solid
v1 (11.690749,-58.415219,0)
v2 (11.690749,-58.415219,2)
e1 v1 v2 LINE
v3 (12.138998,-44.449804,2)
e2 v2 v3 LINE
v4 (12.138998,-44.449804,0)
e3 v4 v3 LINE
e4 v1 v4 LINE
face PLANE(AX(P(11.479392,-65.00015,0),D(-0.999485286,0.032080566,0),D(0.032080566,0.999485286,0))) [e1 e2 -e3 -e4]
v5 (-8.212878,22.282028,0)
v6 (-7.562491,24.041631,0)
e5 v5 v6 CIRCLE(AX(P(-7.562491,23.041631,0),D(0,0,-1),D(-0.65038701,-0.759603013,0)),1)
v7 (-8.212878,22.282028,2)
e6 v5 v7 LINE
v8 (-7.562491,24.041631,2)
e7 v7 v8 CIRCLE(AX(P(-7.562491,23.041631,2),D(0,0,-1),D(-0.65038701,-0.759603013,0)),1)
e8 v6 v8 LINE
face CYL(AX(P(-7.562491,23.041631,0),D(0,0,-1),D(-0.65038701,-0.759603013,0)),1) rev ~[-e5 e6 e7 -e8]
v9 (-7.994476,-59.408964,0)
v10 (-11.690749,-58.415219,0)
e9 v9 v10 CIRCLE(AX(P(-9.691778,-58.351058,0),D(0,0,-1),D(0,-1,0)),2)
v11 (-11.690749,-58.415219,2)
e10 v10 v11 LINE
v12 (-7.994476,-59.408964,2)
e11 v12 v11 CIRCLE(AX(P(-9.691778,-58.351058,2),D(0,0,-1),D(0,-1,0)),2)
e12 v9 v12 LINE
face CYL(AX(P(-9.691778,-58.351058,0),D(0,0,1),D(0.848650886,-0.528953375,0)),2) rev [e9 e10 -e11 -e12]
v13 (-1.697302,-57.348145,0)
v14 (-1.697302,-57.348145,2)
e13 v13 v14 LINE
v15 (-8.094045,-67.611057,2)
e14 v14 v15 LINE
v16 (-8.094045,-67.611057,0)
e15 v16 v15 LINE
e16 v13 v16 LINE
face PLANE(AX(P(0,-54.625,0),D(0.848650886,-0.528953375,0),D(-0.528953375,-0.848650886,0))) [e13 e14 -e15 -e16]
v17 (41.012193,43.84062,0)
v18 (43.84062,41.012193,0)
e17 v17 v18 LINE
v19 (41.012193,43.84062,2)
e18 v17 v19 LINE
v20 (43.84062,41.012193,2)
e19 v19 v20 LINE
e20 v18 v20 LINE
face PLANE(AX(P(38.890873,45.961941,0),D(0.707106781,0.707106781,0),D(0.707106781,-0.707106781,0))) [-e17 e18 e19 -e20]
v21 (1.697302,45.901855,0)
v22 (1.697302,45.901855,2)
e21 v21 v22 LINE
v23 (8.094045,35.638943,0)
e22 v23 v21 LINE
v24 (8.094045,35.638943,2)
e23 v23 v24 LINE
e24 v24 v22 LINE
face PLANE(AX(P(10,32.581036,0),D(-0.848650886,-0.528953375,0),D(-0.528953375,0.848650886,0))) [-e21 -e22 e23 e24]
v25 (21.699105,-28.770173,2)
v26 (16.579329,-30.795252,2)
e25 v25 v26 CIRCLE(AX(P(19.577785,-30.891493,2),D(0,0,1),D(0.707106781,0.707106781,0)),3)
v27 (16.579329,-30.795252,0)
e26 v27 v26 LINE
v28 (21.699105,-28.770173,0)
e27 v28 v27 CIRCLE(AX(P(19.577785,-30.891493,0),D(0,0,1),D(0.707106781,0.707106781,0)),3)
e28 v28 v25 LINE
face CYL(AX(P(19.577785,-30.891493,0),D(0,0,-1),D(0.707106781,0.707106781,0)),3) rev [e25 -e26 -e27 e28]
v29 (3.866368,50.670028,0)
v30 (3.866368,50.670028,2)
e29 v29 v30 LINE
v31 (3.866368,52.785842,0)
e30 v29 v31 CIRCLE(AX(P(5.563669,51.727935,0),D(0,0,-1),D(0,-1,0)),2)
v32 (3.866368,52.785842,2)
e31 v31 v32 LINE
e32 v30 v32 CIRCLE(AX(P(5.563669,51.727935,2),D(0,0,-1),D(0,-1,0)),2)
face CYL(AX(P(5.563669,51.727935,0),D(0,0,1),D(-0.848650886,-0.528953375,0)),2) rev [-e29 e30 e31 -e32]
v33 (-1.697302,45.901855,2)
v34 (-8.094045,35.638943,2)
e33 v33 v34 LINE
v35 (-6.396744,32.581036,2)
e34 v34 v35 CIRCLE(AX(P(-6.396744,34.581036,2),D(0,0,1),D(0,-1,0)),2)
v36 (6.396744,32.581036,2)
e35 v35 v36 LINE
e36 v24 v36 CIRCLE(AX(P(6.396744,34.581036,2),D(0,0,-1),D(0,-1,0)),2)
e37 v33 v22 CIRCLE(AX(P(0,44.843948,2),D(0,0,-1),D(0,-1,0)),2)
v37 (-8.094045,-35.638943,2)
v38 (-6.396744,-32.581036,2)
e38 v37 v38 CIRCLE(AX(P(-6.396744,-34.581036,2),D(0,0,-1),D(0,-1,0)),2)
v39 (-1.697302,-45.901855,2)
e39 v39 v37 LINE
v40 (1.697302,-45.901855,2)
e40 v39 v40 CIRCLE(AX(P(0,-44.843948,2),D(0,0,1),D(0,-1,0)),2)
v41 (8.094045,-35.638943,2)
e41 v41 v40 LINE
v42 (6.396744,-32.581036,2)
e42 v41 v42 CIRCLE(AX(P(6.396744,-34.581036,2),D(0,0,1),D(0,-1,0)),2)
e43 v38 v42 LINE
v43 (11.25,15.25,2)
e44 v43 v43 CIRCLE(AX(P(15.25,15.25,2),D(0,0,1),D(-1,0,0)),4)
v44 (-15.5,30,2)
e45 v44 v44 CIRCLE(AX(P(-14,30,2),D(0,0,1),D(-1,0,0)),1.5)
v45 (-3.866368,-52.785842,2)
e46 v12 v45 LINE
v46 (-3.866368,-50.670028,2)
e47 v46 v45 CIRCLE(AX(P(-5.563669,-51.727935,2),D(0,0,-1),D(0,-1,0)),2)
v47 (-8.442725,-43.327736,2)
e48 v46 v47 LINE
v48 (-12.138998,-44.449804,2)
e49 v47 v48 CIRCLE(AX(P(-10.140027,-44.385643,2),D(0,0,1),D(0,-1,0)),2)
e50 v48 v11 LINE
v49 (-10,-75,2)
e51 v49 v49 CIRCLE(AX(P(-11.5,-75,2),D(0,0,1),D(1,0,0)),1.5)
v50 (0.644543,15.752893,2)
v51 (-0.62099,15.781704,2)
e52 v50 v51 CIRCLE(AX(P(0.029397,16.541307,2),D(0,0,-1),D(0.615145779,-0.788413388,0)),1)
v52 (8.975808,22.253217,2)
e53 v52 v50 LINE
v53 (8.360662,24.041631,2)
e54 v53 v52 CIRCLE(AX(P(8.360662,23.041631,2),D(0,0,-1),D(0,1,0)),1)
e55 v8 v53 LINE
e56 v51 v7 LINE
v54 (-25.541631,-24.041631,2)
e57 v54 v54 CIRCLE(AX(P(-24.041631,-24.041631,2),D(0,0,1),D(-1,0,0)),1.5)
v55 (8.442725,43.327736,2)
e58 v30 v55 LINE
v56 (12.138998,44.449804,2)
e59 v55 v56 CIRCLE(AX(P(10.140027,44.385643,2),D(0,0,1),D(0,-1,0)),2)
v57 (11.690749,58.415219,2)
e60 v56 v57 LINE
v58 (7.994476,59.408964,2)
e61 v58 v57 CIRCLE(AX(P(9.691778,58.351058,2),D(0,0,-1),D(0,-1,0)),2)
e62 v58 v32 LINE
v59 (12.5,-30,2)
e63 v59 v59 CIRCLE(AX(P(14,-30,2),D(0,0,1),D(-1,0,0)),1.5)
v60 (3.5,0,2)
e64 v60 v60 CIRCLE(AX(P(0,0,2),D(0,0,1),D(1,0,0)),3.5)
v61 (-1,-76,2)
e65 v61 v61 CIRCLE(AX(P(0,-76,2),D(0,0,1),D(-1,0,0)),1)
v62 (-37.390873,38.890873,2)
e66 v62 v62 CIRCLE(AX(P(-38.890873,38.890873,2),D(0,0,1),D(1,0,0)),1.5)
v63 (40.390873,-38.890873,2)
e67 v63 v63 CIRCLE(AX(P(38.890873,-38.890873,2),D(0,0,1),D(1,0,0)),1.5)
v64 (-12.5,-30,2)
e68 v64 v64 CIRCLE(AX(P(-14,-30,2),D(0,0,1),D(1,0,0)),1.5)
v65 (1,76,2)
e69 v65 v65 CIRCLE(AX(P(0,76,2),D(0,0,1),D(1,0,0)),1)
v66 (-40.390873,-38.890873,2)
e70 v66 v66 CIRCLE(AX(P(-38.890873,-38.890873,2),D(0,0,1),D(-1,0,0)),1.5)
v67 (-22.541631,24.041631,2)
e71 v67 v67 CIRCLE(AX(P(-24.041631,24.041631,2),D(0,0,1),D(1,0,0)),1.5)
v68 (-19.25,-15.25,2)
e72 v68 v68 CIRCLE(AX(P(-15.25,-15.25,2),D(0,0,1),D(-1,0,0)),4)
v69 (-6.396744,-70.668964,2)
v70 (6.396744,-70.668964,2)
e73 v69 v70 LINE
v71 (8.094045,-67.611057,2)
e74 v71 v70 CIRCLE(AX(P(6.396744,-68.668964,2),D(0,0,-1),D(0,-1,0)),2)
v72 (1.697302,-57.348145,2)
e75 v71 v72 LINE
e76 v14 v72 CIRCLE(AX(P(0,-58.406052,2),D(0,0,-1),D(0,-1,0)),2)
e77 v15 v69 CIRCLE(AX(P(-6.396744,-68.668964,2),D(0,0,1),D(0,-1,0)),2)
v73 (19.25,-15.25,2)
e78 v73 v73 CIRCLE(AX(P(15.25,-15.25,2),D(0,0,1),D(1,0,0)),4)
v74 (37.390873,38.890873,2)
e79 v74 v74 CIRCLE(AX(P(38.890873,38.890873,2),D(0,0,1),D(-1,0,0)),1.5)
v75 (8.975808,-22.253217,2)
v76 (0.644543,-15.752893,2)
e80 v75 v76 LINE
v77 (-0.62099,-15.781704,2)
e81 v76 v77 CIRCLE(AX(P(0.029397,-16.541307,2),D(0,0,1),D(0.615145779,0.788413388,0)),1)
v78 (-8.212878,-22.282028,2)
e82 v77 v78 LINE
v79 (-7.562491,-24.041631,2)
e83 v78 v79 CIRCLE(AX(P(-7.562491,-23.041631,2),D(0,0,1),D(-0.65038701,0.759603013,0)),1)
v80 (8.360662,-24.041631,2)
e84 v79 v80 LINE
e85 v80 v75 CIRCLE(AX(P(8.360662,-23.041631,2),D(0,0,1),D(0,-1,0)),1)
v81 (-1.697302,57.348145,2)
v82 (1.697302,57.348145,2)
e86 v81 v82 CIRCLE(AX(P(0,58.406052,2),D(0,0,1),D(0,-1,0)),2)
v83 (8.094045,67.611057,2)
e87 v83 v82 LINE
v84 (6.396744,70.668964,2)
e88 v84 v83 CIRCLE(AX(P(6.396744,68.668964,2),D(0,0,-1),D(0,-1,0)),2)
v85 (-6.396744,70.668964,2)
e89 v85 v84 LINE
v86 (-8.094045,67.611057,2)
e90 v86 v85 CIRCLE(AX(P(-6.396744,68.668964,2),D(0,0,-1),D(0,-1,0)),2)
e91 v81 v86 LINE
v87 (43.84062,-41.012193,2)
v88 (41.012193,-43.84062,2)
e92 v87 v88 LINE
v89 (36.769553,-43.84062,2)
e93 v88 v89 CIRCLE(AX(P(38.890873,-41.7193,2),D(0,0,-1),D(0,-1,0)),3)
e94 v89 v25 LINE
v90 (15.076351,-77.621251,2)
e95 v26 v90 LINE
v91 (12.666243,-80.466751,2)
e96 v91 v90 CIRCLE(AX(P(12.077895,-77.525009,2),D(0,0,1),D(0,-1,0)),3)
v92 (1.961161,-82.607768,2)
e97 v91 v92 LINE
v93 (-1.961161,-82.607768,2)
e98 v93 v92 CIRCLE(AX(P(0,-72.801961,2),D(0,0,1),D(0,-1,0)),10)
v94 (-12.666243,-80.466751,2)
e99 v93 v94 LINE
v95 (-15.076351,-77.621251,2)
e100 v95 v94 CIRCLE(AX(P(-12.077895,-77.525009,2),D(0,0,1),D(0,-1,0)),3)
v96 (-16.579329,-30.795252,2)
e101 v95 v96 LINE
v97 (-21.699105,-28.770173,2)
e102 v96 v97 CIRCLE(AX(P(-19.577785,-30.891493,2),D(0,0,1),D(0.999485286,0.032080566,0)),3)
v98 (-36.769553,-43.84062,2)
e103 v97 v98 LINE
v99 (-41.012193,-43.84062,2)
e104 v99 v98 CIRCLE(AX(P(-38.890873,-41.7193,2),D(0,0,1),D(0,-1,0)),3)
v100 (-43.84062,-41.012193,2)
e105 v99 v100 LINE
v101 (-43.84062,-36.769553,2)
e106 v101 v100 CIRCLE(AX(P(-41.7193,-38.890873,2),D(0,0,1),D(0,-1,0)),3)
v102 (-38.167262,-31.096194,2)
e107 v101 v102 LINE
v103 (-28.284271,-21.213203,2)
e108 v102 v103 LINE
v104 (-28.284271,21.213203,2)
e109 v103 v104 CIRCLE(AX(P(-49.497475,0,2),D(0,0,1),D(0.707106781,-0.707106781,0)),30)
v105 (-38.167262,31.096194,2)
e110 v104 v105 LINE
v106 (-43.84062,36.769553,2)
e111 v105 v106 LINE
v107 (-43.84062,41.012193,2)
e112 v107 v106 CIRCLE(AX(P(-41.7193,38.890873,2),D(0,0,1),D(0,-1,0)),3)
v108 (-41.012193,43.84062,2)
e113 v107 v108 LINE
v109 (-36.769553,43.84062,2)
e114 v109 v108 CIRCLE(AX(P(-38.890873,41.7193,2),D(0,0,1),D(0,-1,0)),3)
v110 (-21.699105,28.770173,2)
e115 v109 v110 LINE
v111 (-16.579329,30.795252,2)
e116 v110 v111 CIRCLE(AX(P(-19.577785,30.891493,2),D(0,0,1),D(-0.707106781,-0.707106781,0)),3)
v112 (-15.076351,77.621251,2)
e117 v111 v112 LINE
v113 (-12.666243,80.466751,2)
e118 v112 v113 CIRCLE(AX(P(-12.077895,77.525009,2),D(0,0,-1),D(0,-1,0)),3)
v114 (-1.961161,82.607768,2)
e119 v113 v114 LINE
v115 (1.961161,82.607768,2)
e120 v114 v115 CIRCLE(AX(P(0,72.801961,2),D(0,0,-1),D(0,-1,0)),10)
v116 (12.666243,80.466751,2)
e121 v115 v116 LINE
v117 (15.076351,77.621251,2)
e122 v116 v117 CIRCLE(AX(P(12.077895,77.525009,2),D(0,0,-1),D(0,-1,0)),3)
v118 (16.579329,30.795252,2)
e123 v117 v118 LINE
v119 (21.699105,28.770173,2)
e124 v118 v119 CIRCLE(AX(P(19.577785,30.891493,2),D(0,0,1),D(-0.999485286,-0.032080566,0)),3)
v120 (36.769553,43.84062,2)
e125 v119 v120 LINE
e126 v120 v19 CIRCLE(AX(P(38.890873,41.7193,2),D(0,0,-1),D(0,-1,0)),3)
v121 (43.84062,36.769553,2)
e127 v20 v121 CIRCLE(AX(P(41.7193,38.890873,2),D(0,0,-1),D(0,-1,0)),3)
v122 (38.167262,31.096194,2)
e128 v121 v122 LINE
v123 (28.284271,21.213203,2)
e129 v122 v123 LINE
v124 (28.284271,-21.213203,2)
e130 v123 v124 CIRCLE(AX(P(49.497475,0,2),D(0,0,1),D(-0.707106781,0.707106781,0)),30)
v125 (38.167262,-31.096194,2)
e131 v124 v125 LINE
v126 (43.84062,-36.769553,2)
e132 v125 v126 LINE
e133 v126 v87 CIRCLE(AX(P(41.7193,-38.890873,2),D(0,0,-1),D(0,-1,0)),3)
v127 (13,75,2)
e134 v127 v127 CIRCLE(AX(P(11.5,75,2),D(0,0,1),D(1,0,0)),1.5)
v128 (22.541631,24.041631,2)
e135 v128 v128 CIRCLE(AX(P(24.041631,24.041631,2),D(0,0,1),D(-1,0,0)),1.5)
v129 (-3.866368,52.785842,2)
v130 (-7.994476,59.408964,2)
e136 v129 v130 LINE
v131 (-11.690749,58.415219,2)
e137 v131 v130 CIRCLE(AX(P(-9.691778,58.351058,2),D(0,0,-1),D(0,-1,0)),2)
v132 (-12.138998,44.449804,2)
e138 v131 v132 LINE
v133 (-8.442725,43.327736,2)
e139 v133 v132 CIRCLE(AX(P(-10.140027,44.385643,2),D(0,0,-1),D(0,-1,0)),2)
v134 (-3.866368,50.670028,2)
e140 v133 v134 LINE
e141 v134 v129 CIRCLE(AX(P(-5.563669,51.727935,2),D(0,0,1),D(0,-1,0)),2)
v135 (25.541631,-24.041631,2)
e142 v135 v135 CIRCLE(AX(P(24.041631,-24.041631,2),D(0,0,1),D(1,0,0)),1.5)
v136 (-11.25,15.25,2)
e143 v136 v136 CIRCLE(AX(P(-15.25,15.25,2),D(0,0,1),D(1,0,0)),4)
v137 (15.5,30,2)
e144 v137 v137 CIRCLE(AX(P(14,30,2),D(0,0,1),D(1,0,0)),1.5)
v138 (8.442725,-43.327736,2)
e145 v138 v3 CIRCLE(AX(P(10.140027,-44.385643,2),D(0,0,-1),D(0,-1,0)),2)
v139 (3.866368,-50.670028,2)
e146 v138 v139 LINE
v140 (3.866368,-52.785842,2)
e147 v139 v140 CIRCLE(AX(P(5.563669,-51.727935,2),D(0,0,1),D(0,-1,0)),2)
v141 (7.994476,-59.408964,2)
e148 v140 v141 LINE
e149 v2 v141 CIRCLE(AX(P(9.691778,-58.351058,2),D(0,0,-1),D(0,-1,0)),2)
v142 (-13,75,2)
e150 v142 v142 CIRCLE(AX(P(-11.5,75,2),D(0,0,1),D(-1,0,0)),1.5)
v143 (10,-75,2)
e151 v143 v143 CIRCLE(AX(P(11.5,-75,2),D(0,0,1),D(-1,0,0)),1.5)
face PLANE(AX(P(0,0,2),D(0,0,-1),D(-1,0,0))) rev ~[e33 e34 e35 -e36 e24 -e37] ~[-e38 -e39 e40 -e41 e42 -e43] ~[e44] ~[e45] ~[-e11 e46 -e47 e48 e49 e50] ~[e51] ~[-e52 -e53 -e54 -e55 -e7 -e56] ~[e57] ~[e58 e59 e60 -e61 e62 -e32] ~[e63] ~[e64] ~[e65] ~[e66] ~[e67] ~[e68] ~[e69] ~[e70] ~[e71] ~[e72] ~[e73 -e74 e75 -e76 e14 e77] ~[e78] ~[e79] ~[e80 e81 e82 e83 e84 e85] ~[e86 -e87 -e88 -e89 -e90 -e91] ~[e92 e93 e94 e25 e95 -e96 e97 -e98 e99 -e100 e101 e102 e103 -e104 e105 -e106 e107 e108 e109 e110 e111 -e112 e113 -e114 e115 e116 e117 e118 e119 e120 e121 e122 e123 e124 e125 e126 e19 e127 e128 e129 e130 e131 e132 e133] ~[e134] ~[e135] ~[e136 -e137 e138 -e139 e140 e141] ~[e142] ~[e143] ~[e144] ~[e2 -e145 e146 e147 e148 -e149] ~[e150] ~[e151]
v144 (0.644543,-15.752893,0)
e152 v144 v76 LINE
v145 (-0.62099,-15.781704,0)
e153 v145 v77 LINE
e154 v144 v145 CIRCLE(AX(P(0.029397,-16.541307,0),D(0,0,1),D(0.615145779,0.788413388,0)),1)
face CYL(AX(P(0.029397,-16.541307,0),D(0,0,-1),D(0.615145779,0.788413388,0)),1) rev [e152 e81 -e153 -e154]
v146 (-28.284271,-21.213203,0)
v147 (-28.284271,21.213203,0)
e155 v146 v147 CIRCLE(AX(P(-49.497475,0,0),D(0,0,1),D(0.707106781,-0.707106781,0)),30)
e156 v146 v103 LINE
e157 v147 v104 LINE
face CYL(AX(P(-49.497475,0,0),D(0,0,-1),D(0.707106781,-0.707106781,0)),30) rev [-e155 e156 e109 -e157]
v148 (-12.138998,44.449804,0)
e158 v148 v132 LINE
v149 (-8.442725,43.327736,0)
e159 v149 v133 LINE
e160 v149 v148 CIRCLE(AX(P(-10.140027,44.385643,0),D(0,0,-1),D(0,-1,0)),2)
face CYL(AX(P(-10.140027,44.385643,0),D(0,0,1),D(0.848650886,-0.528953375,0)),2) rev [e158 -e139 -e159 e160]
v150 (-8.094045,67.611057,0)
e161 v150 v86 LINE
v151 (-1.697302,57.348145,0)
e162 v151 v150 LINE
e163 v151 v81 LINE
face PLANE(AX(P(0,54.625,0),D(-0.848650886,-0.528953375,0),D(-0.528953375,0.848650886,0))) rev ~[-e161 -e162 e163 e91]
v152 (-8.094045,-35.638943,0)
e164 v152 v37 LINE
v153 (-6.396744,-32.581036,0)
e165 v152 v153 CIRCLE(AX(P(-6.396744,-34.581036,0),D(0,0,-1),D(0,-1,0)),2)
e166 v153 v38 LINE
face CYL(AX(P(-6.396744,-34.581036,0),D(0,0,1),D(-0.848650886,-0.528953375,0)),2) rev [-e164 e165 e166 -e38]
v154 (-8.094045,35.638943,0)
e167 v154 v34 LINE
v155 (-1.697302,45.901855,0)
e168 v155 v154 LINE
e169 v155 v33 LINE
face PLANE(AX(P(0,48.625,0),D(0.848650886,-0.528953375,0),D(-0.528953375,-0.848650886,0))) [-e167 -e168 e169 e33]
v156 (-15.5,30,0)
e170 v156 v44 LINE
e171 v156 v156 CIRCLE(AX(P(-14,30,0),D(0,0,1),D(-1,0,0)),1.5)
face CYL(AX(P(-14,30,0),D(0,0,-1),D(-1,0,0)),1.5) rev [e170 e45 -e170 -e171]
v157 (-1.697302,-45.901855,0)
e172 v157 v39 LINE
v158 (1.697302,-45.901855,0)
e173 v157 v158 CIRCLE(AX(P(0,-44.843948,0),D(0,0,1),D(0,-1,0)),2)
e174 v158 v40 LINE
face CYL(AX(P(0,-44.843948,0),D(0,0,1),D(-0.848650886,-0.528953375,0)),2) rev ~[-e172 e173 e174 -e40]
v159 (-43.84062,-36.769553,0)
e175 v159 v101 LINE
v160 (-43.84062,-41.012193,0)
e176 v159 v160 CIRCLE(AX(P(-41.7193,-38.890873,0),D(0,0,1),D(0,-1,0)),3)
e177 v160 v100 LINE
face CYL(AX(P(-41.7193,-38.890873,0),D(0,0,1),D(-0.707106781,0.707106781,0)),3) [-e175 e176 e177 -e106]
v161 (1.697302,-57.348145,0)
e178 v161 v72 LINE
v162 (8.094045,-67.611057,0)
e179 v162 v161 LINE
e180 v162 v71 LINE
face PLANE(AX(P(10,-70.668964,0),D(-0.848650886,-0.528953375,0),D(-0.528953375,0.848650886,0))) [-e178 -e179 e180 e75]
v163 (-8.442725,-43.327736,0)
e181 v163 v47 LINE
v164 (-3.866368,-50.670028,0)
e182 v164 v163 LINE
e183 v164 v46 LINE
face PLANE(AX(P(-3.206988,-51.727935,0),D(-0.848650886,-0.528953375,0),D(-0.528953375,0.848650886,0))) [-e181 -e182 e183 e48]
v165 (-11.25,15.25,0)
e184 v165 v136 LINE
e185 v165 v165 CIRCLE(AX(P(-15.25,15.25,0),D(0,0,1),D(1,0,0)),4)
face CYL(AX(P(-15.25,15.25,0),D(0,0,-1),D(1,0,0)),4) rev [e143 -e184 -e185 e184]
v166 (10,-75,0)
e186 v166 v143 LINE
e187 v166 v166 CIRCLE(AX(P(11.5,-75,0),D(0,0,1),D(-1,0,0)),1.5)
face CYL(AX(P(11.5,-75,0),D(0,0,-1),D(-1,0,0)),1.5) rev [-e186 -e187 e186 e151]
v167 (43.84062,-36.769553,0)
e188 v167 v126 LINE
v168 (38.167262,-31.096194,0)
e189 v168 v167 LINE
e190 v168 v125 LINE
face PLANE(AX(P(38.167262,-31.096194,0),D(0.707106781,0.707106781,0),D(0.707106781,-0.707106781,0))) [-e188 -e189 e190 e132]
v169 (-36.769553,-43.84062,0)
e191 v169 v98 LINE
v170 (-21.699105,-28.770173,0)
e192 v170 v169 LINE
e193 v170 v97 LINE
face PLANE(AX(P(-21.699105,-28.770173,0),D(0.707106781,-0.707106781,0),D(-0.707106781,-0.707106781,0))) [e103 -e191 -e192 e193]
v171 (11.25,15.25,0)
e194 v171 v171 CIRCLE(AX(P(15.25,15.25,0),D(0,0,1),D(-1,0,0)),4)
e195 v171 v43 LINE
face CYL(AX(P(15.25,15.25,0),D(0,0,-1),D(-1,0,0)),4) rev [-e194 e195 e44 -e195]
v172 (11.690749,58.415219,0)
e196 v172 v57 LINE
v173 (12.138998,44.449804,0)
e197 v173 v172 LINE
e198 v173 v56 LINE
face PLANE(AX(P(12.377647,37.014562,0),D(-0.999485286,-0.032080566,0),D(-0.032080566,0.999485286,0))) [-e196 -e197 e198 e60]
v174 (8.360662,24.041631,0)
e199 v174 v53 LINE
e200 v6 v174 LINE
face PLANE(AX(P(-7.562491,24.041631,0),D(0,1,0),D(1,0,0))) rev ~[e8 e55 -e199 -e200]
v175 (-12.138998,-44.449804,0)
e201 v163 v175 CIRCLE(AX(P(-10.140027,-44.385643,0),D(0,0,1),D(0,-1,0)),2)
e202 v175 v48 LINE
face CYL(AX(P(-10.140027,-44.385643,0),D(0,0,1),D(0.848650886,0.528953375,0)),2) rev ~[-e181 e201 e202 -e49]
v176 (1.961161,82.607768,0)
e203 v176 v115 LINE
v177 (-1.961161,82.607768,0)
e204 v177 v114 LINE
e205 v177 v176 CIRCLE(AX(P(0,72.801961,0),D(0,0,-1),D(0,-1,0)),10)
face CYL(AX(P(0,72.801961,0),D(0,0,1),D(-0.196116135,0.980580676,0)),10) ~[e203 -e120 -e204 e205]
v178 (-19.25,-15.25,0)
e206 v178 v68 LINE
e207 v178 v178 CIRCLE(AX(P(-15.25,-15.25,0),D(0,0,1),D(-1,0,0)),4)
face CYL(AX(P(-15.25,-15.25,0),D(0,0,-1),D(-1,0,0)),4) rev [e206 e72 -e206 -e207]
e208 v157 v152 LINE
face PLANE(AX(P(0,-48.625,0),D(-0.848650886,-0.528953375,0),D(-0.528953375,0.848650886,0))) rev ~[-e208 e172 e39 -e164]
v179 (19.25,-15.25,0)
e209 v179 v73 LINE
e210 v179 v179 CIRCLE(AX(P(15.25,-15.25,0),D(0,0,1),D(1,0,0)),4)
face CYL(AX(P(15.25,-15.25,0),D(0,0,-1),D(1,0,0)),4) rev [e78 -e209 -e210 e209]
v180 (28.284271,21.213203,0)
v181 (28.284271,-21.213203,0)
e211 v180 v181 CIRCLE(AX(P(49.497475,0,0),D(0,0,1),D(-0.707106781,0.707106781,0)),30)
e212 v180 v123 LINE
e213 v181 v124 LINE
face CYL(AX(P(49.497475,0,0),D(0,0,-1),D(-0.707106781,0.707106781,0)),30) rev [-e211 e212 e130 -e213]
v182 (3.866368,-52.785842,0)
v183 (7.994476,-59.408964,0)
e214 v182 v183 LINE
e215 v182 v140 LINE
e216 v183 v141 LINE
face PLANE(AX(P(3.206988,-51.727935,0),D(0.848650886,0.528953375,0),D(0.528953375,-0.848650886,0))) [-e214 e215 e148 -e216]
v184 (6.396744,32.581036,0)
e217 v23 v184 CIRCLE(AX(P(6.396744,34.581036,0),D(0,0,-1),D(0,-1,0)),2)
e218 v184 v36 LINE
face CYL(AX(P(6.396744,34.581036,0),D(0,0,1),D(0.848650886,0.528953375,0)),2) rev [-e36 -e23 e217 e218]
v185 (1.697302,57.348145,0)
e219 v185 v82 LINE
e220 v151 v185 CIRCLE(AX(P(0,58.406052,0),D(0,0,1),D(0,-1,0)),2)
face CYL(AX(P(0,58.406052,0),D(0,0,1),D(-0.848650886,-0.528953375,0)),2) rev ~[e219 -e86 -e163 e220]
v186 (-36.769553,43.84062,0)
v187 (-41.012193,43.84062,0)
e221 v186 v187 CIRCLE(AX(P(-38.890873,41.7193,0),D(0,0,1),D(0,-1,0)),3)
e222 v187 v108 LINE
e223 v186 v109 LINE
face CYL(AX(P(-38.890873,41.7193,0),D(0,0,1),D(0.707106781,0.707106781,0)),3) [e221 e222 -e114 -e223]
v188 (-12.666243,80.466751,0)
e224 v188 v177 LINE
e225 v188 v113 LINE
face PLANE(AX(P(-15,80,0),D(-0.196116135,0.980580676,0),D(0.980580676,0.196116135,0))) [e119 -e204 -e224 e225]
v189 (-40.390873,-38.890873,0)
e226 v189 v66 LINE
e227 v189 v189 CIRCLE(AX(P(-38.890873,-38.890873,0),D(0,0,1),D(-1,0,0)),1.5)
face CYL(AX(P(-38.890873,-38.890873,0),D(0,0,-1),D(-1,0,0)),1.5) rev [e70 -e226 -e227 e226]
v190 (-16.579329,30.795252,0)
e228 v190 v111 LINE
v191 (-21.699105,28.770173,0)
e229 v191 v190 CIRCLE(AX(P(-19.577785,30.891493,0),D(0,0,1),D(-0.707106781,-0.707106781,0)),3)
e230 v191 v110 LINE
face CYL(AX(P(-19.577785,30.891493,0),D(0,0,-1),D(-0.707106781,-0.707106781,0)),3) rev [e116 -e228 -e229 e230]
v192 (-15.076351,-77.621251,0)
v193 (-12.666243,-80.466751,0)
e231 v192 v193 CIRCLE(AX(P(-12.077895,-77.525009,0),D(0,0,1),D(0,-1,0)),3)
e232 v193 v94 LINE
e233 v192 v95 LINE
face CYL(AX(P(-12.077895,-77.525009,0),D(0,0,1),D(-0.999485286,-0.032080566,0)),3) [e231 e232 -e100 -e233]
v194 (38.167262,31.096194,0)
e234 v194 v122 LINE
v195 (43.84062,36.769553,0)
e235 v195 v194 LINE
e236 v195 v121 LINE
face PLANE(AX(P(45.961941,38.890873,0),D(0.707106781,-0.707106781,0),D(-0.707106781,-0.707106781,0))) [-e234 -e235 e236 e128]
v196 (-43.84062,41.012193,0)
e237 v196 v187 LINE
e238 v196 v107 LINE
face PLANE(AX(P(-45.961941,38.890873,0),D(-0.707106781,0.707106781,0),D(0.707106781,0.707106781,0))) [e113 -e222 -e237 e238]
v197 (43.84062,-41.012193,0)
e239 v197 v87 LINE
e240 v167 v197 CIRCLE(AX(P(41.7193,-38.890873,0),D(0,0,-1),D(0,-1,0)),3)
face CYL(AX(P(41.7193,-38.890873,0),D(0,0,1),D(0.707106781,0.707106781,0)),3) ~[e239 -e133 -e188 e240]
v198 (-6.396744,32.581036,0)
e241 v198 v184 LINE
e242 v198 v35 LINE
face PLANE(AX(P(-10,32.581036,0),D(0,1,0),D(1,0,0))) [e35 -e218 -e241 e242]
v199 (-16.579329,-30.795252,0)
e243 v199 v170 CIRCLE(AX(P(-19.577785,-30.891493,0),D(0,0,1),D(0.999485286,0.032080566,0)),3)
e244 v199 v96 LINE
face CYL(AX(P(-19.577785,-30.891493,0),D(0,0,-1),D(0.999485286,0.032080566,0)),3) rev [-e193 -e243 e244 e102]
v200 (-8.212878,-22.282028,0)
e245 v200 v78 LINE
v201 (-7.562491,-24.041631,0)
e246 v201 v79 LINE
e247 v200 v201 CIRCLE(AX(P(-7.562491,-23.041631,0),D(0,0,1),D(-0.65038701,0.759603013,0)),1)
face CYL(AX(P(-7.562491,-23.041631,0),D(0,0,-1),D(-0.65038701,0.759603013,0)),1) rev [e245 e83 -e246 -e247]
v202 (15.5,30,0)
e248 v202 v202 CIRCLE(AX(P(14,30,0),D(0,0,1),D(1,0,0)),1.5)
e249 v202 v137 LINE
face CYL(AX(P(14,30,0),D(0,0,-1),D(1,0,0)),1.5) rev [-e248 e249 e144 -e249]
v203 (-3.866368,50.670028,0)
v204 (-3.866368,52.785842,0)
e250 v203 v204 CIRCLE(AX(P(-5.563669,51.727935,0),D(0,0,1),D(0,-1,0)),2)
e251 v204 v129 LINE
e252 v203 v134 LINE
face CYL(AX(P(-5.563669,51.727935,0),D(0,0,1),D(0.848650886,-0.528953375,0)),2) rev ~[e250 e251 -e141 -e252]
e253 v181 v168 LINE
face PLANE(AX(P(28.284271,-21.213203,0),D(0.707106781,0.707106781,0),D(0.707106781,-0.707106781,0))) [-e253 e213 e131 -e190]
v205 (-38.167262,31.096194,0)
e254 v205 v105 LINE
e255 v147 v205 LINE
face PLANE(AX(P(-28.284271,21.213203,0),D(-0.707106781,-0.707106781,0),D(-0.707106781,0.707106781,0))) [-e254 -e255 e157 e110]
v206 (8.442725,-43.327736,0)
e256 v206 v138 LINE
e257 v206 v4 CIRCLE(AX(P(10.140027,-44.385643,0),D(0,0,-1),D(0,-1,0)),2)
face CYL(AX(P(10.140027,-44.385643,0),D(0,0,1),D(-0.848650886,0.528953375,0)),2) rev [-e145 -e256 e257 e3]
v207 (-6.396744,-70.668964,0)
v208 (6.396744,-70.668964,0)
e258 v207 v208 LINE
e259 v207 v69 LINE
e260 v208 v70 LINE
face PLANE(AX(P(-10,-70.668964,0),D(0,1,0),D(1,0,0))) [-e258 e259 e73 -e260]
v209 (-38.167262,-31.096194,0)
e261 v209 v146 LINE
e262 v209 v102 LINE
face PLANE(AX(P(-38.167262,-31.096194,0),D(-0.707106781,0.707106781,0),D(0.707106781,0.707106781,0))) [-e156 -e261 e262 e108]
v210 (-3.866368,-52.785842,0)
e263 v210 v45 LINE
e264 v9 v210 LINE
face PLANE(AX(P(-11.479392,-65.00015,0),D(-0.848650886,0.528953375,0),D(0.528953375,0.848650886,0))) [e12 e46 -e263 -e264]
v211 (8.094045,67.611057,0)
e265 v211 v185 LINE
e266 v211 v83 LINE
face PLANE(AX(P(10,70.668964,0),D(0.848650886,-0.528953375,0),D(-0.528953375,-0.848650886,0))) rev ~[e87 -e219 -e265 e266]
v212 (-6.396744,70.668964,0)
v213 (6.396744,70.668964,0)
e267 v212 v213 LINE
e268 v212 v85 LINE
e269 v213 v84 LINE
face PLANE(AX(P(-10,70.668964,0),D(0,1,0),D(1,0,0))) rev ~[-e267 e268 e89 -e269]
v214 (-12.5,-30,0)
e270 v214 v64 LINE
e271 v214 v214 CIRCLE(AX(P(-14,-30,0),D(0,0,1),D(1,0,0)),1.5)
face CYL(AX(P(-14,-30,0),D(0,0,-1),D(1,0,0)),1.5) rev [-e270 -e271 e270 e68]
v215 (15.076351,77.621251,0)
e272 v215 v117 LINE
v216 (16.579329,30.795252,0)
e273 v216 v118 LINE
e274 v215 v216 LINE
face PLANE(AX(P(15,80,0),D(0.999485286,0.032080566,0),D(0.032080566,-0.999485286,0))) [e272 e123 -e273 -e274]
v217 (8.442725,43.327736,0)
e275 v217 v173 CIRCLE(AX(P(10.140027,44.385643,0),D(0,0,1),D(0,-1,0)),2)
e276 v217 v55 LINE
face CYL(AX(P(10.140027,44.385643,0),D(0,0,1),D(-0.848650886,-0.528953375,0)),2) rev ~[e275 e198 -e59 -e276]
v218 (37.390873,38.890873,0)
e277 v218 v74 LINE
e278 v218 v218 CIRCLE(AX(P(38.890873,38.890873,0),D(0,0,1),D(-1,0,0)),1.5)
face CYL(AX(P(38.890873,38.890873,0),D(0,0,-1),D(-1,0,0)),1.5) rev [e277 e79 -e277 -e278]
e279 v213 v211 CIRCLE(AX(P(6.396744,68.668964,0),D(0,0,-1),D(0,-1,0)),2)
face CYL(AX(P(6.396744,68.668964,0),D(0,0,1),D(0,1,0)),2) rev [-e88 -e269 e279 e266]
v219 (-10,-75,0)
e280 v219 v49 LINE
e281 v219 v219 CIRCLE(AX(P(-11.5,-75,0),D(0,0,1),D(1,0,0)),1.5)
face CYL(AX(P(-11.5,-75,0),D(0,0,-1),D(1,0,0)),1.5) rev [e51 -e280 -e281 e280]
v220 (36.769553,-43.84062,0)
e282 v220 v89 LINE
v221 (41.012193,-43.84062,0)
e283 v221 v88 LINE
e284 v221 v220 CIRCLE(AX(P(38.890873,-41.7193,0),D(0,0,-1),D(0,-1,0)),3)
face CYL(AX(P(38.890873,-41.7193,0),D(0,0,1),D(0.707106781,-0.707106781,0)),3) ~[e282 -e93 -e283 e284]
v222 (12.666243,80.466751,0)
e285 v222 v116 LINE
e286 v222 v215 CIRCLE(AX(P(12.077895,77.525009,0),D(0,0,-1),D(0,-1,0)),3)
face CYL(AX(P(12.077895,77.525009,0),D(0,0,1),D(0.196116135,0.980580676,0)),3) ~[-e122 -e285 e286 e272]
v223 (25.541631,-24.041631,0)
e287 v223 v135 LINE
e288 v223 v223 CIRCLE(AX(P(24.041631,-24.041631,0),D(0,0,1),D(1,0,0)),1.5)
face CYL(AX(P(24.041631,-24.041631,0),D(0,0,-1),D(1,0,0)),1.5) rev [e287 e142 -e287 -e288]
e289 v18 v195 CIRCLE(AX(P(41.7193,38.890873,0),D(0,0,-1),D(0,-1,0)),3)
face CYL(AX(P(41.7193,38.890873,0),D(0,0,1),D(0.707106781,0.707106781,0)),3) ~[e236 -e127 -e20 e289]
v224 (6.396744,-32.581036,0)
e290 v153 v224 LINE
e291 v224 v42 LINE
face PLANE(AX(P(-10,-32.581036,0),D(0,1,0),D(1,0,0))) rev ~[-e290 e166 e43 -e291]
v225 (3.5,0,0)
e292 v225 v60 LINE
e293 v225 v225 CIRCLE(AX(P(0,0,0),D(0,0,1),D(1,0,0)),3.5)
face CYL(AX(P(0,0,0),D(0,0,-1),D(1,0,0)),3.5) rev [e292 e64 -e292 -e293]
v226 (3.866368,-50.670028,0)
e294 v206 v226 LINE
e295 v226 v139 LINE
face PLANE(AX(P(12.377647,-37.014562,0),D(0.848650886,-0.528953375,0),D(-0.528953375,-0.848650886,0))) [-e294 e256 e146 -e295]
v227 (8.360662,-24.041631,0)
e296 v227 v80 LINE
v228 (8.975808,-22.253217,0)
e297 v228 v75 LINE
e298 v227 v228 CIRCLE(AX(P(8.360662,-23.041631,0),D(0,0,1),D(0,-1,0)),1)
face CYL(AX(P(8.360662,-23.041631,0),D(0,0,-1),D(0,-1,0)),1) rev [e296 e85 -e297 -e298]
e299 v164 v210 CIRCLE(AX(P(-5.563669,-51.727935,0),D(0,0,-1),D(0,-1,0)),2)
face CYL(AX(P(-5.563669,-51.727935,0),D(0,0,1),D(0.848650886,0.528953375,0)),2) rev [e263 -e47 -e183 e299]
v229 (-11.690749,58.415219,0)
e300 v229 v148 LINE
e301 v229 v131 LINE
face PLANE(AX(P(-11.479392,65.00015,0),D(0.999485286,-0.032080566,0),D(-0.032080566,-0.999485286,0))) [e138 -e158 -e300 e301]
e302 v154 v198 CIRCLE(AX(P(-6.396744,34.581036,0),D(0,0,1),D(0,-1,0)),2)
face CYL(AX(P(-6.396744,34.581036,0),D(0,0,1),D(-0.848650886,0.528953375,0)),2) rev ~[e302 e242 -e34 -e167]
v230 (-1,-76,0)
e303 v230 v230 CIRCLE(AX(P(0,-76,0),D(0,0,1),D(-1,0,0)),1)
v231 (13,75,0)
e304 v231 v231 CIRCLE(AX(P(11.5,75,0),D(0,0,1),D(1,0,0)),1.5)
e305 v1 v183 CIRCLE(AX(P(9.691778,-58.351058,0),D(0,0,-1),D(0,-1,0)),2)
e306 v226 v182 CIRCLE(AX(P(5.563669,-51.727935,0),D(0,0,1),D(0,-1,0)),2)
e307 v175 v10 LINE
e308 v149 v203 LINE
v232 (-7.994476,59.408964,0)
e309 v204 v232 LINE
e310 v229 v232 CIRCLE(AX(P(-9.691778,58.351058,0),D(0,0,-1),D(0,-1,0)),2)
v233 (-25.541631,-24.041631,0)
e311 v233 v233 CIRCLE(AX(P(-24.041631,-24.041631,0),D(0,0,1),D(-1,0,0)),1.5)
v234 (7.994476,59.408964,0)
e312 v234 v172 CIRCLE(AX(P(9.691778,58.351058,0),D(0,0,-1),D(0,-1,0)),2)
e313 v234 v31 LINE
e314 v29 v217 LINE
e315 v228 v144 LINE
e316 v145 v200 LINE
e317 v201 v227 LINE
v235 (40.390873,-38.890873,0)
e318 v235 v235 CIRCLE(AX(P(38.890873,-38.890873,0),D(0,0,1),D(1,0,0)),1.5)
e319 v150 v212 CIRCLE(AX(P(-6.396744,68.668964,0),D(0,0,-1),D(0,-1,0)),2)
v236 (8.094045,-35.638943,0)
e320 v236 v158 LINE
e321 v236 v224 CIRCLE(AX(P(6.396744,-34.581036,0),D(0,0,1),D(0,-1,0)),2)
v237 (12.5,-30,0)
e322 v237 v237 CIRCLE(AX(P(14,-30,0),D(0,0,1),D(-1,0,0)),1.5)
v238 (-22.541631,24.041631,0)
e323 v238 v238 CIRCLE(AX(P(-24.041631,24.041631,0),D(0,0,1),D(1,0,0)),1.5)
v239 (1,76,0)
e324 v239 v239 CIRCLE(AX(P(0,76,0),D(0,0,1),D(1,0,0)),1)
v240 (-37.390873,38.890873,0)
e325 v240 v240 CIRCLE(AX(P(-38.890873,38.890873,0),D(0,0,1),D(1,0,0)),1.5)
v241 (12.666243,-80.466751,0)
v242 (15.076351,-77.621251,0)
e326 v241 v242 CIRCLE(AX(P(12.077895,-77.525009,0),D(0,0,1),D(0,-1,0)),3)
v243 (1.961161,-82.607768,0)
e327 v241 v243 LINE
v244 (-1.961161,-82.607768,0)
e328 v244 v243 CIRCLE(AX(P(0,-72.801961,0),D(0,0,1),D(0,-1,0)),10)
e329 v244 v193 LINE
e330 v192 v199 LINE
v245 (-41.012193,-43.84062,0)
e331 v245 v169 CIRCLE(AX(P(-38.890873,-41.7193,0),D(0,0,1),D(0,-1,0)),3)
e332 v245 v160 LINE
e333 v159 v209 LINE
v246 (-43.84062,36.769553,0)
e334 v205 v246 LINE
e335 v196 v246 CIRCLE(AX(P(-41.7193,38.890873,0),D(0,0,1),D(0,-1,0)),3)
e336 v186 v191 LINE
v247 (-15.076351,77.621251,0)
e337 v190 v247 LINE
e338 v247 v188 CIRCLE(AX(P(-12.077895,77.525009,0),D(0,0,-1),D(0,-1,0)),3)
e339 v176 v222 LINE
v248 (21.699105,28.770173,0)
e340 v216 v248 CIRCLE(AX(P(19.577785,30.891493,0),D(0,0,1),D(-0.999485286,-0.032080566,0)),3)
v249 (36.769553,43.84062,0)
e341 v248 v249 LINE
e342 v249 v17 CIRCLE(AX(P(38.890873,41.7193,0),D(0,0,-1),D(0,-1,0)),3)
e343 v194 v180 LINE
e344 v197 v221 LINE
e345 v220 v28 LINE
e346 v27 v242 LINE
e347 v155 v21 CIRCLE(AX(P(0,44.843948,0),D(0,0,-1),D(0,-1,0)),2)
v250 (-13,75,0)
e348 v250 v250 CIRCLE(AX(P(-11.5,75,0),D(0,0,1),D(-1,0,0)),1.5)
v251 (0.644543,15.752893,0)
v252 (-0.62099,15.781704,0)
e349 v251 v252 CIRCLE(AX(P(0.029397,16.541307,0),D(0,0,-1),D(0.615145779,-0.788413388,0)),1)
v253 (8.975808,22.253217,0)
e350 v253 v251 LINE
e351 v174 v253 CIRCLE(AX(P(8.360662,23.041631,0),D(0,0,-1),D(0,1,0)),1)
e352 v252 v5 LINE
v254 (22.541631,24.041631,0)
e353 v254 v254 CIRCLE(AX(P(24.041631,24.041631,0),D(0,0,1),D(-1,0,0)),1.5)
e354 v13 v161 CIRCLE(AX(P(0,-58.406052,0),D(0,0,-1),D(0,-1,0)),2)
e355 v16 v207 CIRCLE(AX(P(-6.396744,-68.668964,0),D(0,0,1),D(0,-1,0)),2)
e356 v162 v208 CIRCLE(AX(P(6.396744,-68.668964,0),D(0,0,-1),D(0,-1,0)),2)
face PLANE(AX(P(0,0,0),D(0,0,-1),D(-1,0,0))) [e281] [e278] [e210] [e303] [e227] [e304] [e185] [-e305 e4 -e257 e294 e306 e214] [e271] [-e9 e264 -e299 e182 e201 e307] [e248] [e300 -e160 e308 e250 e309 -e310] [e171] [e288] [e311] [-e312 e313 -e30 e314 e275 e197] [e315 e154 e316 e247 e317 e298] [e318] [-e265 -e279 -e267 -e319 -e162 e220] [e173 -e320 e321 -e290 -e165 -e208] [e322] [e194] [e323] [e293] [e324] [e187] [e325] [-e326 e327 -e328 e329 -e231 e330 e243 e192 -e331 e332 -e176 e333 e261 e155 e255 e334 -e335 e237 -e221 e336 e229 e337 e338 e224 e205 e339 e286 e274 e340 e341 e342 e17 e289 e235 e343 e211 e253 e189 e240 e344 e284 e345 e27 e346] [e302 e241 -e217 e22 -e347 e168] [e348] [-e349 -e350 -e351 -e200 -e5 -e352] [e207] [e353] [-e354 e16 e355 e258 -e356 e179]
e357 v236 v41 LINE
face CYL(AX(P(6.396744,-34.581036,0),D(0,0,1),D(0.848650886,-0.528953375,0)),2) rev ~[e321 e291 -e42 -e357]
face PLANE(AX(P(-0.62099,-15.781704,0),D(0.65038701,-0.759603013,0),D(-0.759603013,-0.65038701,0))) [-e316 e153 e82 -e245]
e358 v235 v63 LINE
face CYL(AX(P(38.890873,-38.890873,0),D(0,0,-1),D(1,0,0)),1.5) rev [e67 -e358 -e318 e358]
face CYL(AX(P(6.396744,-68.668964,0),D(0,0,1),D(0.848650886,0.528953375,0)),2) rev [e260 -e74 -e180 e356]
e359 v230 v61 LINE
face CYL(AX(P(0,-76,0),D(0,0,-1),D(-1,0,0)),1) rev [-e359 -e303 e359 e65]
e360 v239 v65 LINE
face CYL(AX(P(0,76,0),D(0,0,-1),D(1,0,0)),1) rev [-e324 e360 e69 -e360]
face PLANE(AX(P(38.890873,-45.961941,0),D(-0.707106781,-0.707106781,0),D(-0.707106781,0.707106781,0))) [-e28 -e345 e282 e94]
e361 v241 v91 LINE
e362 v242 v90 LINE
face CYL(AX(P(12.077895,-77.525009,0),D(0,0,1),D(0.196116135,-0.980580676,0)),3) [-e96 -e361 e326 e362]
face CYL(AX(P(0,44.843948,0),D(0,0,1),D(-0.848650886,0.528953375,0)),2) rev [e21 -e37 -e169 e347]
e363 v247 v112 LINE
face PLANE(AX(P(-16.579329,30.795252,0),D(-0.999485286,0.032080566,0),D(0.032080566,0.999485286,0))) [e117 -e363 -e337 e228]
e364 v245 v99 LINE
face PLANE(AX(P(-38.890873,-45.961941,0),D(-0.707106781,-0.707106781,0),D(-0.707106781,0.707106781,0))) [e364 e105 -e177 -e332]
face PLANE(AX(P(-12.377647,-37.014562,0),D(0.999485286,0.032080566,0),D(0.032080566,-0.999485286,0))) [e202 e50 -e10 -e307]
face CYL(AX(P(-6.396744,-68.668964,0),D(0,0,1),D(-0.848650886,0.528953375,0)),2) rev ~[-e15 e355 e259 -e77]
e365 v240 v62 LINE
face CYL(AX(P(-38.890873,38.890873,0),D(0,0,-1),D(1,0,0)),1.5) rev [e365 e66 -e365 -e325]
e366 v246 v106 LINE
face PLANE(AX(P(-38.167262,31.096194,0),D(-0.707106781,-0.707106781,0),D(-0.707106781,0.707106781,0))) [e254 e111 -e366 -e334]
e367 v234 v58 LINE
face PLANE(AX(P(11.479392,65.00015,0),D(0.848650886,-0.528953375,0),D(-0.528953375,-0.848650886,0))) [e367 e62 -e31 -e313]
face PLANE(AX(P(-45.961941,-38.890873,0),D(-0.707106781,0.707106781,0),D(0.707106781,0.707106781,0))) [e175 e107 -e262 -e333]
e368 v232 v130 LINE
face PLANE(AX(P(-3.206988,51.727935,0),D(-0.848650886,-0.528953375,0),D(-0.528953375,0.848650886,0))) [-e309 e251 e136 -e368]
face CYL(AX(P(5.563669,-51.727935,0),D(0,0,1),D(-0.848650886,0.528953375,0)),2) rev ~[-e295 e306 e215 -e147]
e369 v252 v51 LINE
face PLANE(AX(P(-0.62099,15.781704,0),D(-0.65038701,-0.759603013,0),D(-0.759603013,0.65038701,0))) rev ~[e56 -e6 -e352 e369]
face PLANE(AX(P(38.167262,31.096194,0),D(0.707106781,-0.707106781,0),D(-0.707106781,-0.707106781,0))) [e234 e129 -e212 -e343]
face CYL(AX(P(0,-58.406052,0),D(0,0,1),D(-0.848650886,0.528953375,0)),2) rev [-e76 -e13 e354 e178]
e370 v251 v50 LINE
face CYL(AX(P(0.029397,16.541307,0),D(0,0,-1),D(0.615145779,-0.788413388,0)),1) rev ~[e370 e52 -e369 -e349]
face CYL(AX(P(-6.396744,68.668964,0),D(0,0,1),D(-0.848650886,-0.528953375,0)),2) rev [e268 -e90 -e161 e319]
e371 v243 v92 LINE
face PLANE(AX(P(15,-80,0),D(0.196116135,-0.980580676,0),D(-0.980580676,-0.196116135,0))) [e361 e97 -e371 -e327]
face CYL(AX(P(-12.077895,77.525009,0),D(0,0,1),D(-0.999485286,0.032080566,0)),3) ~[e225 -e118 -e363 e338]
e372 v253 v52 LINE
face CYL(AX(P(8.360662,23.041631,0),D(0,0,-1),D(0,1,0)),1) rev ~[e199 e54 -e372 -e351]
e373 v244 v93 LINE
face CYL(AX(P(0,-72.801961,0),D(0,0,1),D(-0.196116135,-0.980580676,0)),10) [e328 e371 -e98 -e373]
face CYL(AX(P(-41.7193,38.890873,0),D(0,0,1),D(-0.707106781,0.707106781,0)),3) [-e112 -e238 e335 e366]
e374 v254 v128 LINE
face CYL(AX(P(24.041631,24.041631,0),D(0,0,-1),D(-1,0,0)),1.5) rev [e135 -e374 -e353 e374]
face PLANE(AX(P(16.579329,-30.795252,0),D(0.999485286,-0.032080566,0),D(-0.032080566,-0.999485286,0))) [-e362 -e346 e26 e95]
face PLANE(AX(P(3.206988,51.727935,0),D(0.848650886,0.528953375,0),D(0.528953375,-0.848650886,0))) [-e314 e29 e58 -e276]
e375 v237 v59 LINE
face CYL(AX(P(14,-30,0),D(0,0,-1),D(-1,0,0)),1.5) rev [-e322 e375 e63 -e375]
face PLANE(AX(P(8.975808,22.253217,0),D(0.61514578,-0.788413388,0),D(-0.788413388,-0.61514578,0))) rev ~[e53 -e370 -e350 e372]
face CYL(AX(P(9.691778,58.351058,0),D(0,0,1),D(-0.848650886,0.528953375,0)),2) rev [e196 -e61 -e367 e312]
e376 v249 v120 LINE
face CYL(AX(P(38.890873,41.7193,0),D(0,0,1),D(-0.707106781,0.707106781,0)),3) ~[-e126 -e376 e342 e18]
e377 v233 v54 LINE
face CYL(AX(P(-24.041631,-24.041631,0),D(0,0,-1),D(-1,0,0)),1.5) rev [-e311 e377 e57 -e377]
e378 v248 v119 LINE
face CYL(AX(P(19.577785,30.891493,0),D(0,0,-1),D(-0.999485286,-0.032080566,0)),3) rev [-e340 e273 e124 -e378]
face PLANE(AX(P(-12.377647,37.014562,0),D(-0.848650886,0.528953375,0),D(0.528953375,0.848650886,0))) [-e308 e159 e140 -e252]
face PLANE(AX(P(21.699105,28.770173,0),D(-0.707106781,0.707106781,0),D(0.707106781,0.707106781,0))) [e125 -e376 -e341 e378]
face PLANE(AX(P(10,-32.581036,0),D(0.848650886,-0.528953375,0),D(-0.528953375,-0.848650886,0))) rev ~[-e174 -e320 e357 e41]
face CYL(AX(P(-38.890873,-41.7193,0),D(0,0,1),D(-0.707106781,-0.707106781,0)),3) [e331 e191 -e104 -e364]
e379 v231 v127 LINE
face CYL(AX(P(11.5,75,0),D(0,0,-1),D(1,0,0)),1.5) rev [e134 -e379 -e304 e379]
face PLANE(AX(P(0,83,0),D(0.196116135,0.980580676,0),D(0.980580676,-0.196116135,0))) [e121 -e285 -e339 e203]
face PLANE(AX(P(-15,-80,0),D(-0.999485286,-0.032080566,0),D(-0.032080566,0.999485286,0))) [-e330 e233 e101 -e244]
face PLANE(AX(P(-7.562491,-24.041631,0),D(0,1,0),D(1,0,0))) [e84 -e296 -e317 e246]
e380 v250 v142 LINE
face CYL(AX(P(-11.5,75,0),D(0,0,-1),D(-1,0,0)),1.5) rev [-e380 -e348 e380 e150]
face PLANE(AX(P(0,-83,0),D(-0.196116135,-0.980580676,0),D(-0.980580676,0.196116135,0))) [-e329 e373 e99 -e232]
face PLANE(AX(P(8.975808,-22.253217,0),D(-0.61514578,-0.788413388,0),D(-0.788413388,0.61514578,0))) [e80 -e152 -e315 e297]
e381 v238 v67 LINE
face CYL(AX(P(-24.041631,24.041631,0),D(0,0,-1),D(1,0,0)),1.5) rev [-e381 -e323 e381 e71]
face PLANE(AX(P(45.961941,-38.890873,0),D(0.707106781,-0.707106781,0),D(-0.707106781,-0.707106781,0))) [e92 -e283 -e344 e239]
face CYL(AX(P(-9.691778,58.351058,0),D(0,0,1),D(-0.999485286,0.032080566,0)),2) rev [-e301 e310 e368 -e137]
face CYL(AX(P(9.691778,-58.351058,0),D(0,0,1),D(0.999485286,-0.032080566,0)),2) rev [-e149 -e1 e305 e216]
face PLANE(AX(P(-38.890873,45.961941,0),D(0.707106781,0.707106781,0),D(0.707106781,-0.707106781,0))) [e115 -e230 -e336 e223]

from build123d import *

# Parameters (mm, degrees)
CROQUIS1_R              = 4
CROQUIS1_R_2            = 1.5
CROQUIS1_R_3            = 3.5
CROQUIS1_R_4            = 1
SALIENTE_EXTRUIR1_DEPTH = 2
REDONDEO1_R             = 3
REDONDEO2_R             = 10
REDONDEO3_R             = 2


with BuildPart() as part:
    # Croquis1 → Saliente-Extruir1 (new body)
    with BuildSketch(Plane.XY):
        with BuildLine():
            Line((-42.426406871, 42.426406871), (-38.890872965, 45.961940777))
            Line((-38.890872965, 45.961940777), (-31.096194078, 38.16726189))
            Line((-31.096194078, 38.16726189), (-21.699105276, 28.770173088))
            ThreePointArc((-21.699105276, 28.770173088), (-18.474345963, 28.101794085), (-16.579329074, 30.795251733))
            Line((-16.579329074, 30.795251733), (-15, 80))
            Line((-15, 80), (0, 83))
            Line((0, 83), (15, 80))
            Line((15, 80), (16.579329074, 30.795251733))
            ThreePointArc((16.579329074, 30.795251733), (18.474345963, 28.101794085), (21.699105276, 28.770173088))
            Line((21.699105276, 28.770173088), (31.096194078, 38.16726189))
            Line((31.096194078, 38.16726189), (38.890872965, 45.961940777))
            Line((38.890872965, 45.961940777), (42.426406871, 42.426406871))
            Line((42.426406871, 42.426406871), (45.961940777, 38.890872965))
            Line((45.961940777, 38.890872965), (38.16726189, 31.096194078))
            Line((38.16726189, 31.096194078), (28.284271247, 21.213203436))
            ThreePointArc((28.284271247, 21.213203436), (19.497474683, 0), (28.284271247, -21.213203436))
            Line((28.284271247, -21.213203436), (38.16726189, -31.096194078))
            Line((38.16726189, -31.096194078), (45.961940777, -38.890872965))
            Line((45.961940777, -38.890872965), (42.426406871, -42.426406871))
            Line((42.426406871, -42.426406871), (38.890872965, -45.961940777))
            Line((38.890872965, -45.961940777), (31.096194078, -38.16726189))
            Line((31.096194078, -38.16726189), (21.699105276, -28.770173088))
            ThreePointArc((21.699105276, -28.770173088), (18.474345963, -28.101794085), (16.579329074, -30.795251733))
            Line((16.579329074, -30.795251733), (15, -80))
            Line((15, -80), (0, -83))
            Line((0, -83), (-15, -80))
            Line((-15, -80), (-16.579329074, -30.795251733))
            ThreePointArc((-16.579329074, -30.795251733), (-18.474345963, -28.101794085), (-21.699105276, -28.770173088))
            Line((-21.699105276, -28.770173088), (-31.096194078, -38.16726189))
            Line((-31.096194078, -38.16726189), (-38.890872965, -45.961940777))
            Line((-38.890872965, -45.961940777), (-42.426406871, -42.426406871))
            Line((-42.426406871, -42.426406871), (-45.961940777, -38.890872965))
            Line((-45.961940777, -38.890872965), (-38.16726189, -31.096194078))
            Line((-38.16726189, -31.096194078), (-28.284271247, -21.213203436))
            ThreePointArc((-28.284271247, -21.213203436), (-19.497474683, 0), (-28.284271247, 21.213203436))
            Line((-28.284271247, 21.213203436), (-38.16726189, 31.096194078))
            Line((-38.16726189, 31.096194078), (-45.961940777, 38.890872965))
            Line((-45.961940777, 38.890872965), (-42.426406871, 42.426406871))
        make_face()
        with Locations((-15.25, 15.25)):
            Circle(CROQUIS1_R, mode=Mode.SUBTRACT)
        with Locations((-24.04163056, 24.04163056)):
            Circle(CROQUIS1_R_2, mode=Mode.SUBTRACT)
        with Locations((-38.890872965, 38.890872965)):
            Circle(CROQUIS1_R_2, mode=Mode.SUBTRACT)
        with Locations(Location((38.890872965, 38.890872965, 0), (0, 0, 180))):
            Circle(CROQUIS1_R_2, mode=Mode.SUBTRACT)
        with Locations(Location((24.04163056, 24.04163056, 0), (0, 0, 180))):
            Circle(CROQUIS1_R_2, mode=Mode.SUBTRACT)
        with Locations(Location((15.25, 15.25, 0), (0, 0, 180))):
            Circle(CROQUIS1_R, mode=Mode.SUBTRACT)
        with Locations((15.25, -15.25)):
            Circle(CROQUIS1_R, mode=Mode.SUBTRACT)
        with Locations((24.04163056, -24.04163056)):
            Circle(CROQUIS1_R_2, mode=Mode.SUBTRACT)
        with Locations((38.890872965, -38.890872965)):
            Circle(CROQUIS1_R_2, mode=Mode.SUBTRACT)
        with Locations(Location((-15.25, -15.25, 0), (0, 0, 180))):
            Circle(CROQUIS1_R, mode=Mode.SUBTRACT)
        with Locations(Location((-24.04163056, -24.04163056, 0), (0, 0, 180))):
            Circle(CROQUIS1_R_2, mode=Mode.SUBTRACT)
        with Locations(Location((-38.890872965, -38.890872965, 0), (0, 0, 180))):
            Circle(CROQUIS1_R_2, mode=Mode.SUBTRACT)
        Circle(CROQUIS1_R_3, mode=Mode.SUBTRACT)
        with Locations((-11.5, -75)):
            Circle(CROQUIS1_R_2, mode=Mode.SUBTRACT)
        with Locations(Location((-14, 30, 0), (0, 0, 180))):
            Circle(CROQUIS1_R_2, mode=Mode.SUBTRACT)
        with Locations(Location((11.5, -75, 0), (0, 0, 180))):
            Circle(CROQUIS1_R_2, mode=Mode.SUBTRACT)
        with Locations((11.5, 75)):
            Circle(CROQUIS1_R_2, mode=Mode.SUBTRACT)
        with Locations(Location((-11.5, 75, 0), (0, 0, 180))):
            Circle(CROQUIS1_R_2, mode=Mode.SUBTRACT)
        with Locations((14, 30)):
            Circle(CROQUIS1_R_2, mode=Mode.SUBTRACT)
        with Locations(Location((14, -30, 0), (0, 0, 180))):
            Circle(CROQUIS1_R_2, mode=Mode.SUBTRACT)
        with Locations((-14, -30)):
            Circle(CROQUIS1_R_2, mode=Mode.SUBTRACT)
        with Locations((0, 76)):
            Circle(CROQUIS1_R_4, mode=Mode.SUBTRACT)
        with Locations(Location((0, -76, 0), (0, 0, 180))):
            Circle(CROQUIS1_R_4, mode=Mode.SUBTRACT)
        with BuildLine():
            Line((-0.620989881, -15.781703725), (-8.212878231, -22.282027547))
            ThreePointArc((-8.212878231, -22.282027547), (-8.50046857, -23.388327104), (-7.562491222, -24.04163056))
            Line((-7.562491222, -24.04163056), (8.360661842, -24.04163056))
            ThreePointArc((8.360661842, -24.04163056), (9.30628687, -23.36688939), (8.975807622, -22.253217173))
            Line((8.975807622, -22.253217173), (0.644542909, -15.75289335))
            ThreePointArc((0.644542909, -15.75289335), (0.006637615, -15.541565769), (-0.620989881, -15.781703725))
        make_face(mode=Mode.SUBTRACT)
        with BuildLine():
            Line((-7.562491222, 24.04163056), (8.360661842, 24.04163056))
            ThreePointArc((8.360661842, 24.04163056), (9.30628687, 23.36688939), (8.975807622, 22.253217173))
            Line((8.975807622, 22.253217173), (0.644542909, 15.75289335))
            ThreePointArc((0.644542909, 15.75289335), (0.006637615, 15.541565769), (-0.620989881, 15.781703725))
            Line((-0.620989881, 15.781703725), (-8.212878231, 22.282027547))
            ThreePointArc((-8.212878231, 22.282027547), (-8.50046857, 23.388327104), (-7.562491222, 24.04163056))
        make_face(mode=Mode.SUBTRACT)
        Polygon((-10, -70.668963905), (10, -70.668963905), (0, -54.625), align=None, mode=Mode.SUBTRACT)
        Polygon((0, -48.625), (-10, -32.581036095), (10, -32.581036095), align=None, mode=Mode.SUBTRACT)
        Polygon((-12.377647425, -37.01456174), (-11.479391579, -65.000149753), (-3.206987785, -51.727934965), align=None, mode=Mode.SUBTRACT)
        Polygon((3.206987785, -51.727934965), (11.479391579, -65.000149753), (12.377647425, -37.01456174), align=None, mode=Mode.SUBTRACT)
        Polygon((12.377647425, 37.01456174), (11.479391579, 65.000149753), (3.206987785, 51.727934965), align=None, mode=Mode.SUBTRACT)
        Polygon((-3.206987785, 51.727934965), (-11.479391579, 65.000149753), (-12.377647425, 37.01456174), align=None, mode=Mode.SUBTRACT)
        Polygon((-10, 32.581036095), (10, 32.581036095), (0, 48.625), align=None, mode=Mode.SUBTRACT)
        Polygon((0, 54.625), (-10, 70.668963905), (10, 70.668963905), align=None, mode=Mode.SUBTRACT)
    extrude(amount=SALIENTE_EXTRUIR1_DEPTH)

    # Redondeo1
    redondeo1_edges = [part.edges().sort_by_distance(p)[0] for p in [
        (-38.890872965, 45.961940777, 1),
        (-15, 80, 1),
        (15, 80, 1),
        (38.890872965, 45.961940777, 1),
        (45.961940777, 38.890872965, 1),
        (45.961940777, -38.890872965, 1),
        (38.890872965, -45.961940777, 1),
        (15, -80, 1),
        (-15, -80, 1),
        (-38.890872965, -45.961940777, 1),
        (-45.961940777, -38.890872965, 1),
        (-45.961940777, 38.890872965, 1),
    ]]
    fillet(redondeo1_edges, radius=REDONDEO1_R)

    # Redondeo2
    redondeo2_edges = [part.edges().sort_by_distance(p)[0] for p in [
        (0, 83, 1),
        (0, -83, 1),
    ]]
    fillet(redondeo2_edges, radius=REDONDEO2_R)

    # Redondeo3
    redondeo3_edges = [part.edges().sort_by_distance(p)[0] for p in [
        (0, -54.625, 1),
        (-10, -70.668963905, 1),
        (10, -70.668963905, 1),
        (0, -48.625, 1),
        (10, -32.581036095, 1),
        (-10, -32.581036095, 1),
        (-3.206987785, -51.727934965, 1),
        (-12.377647425, -37.01456174, 1),
        (-11.479391579, -65.000149753, 1),
        (12.377647425, -37.01456174, 1),
        (3.206987785, -51.727934965, 1),
        (11.479391579, -65.000149753, 1),
        (3.206987785, 51.727934965, 1),
        (12.377647425, 37.01456174, 1),
        (11.479391579, 65.000149753, 1),
        (-12.377647425, 37.01456174, 1),
        (-3.206987785, 51.727934965, 1),
        (-11.479391579, 65.000149753, 1),
        (0, 48.625, 1),
        (-10, 32.581036095, 1),
        (10, 32.581036095, 1),
        (0, 54.625, 1),
        (10, 70.668963905, 1),
        (-10, 70.668963905, 1),
    ]]
    fillet(redondeo3_edges, radius=REDONDEO3_R)


solid = part.part
